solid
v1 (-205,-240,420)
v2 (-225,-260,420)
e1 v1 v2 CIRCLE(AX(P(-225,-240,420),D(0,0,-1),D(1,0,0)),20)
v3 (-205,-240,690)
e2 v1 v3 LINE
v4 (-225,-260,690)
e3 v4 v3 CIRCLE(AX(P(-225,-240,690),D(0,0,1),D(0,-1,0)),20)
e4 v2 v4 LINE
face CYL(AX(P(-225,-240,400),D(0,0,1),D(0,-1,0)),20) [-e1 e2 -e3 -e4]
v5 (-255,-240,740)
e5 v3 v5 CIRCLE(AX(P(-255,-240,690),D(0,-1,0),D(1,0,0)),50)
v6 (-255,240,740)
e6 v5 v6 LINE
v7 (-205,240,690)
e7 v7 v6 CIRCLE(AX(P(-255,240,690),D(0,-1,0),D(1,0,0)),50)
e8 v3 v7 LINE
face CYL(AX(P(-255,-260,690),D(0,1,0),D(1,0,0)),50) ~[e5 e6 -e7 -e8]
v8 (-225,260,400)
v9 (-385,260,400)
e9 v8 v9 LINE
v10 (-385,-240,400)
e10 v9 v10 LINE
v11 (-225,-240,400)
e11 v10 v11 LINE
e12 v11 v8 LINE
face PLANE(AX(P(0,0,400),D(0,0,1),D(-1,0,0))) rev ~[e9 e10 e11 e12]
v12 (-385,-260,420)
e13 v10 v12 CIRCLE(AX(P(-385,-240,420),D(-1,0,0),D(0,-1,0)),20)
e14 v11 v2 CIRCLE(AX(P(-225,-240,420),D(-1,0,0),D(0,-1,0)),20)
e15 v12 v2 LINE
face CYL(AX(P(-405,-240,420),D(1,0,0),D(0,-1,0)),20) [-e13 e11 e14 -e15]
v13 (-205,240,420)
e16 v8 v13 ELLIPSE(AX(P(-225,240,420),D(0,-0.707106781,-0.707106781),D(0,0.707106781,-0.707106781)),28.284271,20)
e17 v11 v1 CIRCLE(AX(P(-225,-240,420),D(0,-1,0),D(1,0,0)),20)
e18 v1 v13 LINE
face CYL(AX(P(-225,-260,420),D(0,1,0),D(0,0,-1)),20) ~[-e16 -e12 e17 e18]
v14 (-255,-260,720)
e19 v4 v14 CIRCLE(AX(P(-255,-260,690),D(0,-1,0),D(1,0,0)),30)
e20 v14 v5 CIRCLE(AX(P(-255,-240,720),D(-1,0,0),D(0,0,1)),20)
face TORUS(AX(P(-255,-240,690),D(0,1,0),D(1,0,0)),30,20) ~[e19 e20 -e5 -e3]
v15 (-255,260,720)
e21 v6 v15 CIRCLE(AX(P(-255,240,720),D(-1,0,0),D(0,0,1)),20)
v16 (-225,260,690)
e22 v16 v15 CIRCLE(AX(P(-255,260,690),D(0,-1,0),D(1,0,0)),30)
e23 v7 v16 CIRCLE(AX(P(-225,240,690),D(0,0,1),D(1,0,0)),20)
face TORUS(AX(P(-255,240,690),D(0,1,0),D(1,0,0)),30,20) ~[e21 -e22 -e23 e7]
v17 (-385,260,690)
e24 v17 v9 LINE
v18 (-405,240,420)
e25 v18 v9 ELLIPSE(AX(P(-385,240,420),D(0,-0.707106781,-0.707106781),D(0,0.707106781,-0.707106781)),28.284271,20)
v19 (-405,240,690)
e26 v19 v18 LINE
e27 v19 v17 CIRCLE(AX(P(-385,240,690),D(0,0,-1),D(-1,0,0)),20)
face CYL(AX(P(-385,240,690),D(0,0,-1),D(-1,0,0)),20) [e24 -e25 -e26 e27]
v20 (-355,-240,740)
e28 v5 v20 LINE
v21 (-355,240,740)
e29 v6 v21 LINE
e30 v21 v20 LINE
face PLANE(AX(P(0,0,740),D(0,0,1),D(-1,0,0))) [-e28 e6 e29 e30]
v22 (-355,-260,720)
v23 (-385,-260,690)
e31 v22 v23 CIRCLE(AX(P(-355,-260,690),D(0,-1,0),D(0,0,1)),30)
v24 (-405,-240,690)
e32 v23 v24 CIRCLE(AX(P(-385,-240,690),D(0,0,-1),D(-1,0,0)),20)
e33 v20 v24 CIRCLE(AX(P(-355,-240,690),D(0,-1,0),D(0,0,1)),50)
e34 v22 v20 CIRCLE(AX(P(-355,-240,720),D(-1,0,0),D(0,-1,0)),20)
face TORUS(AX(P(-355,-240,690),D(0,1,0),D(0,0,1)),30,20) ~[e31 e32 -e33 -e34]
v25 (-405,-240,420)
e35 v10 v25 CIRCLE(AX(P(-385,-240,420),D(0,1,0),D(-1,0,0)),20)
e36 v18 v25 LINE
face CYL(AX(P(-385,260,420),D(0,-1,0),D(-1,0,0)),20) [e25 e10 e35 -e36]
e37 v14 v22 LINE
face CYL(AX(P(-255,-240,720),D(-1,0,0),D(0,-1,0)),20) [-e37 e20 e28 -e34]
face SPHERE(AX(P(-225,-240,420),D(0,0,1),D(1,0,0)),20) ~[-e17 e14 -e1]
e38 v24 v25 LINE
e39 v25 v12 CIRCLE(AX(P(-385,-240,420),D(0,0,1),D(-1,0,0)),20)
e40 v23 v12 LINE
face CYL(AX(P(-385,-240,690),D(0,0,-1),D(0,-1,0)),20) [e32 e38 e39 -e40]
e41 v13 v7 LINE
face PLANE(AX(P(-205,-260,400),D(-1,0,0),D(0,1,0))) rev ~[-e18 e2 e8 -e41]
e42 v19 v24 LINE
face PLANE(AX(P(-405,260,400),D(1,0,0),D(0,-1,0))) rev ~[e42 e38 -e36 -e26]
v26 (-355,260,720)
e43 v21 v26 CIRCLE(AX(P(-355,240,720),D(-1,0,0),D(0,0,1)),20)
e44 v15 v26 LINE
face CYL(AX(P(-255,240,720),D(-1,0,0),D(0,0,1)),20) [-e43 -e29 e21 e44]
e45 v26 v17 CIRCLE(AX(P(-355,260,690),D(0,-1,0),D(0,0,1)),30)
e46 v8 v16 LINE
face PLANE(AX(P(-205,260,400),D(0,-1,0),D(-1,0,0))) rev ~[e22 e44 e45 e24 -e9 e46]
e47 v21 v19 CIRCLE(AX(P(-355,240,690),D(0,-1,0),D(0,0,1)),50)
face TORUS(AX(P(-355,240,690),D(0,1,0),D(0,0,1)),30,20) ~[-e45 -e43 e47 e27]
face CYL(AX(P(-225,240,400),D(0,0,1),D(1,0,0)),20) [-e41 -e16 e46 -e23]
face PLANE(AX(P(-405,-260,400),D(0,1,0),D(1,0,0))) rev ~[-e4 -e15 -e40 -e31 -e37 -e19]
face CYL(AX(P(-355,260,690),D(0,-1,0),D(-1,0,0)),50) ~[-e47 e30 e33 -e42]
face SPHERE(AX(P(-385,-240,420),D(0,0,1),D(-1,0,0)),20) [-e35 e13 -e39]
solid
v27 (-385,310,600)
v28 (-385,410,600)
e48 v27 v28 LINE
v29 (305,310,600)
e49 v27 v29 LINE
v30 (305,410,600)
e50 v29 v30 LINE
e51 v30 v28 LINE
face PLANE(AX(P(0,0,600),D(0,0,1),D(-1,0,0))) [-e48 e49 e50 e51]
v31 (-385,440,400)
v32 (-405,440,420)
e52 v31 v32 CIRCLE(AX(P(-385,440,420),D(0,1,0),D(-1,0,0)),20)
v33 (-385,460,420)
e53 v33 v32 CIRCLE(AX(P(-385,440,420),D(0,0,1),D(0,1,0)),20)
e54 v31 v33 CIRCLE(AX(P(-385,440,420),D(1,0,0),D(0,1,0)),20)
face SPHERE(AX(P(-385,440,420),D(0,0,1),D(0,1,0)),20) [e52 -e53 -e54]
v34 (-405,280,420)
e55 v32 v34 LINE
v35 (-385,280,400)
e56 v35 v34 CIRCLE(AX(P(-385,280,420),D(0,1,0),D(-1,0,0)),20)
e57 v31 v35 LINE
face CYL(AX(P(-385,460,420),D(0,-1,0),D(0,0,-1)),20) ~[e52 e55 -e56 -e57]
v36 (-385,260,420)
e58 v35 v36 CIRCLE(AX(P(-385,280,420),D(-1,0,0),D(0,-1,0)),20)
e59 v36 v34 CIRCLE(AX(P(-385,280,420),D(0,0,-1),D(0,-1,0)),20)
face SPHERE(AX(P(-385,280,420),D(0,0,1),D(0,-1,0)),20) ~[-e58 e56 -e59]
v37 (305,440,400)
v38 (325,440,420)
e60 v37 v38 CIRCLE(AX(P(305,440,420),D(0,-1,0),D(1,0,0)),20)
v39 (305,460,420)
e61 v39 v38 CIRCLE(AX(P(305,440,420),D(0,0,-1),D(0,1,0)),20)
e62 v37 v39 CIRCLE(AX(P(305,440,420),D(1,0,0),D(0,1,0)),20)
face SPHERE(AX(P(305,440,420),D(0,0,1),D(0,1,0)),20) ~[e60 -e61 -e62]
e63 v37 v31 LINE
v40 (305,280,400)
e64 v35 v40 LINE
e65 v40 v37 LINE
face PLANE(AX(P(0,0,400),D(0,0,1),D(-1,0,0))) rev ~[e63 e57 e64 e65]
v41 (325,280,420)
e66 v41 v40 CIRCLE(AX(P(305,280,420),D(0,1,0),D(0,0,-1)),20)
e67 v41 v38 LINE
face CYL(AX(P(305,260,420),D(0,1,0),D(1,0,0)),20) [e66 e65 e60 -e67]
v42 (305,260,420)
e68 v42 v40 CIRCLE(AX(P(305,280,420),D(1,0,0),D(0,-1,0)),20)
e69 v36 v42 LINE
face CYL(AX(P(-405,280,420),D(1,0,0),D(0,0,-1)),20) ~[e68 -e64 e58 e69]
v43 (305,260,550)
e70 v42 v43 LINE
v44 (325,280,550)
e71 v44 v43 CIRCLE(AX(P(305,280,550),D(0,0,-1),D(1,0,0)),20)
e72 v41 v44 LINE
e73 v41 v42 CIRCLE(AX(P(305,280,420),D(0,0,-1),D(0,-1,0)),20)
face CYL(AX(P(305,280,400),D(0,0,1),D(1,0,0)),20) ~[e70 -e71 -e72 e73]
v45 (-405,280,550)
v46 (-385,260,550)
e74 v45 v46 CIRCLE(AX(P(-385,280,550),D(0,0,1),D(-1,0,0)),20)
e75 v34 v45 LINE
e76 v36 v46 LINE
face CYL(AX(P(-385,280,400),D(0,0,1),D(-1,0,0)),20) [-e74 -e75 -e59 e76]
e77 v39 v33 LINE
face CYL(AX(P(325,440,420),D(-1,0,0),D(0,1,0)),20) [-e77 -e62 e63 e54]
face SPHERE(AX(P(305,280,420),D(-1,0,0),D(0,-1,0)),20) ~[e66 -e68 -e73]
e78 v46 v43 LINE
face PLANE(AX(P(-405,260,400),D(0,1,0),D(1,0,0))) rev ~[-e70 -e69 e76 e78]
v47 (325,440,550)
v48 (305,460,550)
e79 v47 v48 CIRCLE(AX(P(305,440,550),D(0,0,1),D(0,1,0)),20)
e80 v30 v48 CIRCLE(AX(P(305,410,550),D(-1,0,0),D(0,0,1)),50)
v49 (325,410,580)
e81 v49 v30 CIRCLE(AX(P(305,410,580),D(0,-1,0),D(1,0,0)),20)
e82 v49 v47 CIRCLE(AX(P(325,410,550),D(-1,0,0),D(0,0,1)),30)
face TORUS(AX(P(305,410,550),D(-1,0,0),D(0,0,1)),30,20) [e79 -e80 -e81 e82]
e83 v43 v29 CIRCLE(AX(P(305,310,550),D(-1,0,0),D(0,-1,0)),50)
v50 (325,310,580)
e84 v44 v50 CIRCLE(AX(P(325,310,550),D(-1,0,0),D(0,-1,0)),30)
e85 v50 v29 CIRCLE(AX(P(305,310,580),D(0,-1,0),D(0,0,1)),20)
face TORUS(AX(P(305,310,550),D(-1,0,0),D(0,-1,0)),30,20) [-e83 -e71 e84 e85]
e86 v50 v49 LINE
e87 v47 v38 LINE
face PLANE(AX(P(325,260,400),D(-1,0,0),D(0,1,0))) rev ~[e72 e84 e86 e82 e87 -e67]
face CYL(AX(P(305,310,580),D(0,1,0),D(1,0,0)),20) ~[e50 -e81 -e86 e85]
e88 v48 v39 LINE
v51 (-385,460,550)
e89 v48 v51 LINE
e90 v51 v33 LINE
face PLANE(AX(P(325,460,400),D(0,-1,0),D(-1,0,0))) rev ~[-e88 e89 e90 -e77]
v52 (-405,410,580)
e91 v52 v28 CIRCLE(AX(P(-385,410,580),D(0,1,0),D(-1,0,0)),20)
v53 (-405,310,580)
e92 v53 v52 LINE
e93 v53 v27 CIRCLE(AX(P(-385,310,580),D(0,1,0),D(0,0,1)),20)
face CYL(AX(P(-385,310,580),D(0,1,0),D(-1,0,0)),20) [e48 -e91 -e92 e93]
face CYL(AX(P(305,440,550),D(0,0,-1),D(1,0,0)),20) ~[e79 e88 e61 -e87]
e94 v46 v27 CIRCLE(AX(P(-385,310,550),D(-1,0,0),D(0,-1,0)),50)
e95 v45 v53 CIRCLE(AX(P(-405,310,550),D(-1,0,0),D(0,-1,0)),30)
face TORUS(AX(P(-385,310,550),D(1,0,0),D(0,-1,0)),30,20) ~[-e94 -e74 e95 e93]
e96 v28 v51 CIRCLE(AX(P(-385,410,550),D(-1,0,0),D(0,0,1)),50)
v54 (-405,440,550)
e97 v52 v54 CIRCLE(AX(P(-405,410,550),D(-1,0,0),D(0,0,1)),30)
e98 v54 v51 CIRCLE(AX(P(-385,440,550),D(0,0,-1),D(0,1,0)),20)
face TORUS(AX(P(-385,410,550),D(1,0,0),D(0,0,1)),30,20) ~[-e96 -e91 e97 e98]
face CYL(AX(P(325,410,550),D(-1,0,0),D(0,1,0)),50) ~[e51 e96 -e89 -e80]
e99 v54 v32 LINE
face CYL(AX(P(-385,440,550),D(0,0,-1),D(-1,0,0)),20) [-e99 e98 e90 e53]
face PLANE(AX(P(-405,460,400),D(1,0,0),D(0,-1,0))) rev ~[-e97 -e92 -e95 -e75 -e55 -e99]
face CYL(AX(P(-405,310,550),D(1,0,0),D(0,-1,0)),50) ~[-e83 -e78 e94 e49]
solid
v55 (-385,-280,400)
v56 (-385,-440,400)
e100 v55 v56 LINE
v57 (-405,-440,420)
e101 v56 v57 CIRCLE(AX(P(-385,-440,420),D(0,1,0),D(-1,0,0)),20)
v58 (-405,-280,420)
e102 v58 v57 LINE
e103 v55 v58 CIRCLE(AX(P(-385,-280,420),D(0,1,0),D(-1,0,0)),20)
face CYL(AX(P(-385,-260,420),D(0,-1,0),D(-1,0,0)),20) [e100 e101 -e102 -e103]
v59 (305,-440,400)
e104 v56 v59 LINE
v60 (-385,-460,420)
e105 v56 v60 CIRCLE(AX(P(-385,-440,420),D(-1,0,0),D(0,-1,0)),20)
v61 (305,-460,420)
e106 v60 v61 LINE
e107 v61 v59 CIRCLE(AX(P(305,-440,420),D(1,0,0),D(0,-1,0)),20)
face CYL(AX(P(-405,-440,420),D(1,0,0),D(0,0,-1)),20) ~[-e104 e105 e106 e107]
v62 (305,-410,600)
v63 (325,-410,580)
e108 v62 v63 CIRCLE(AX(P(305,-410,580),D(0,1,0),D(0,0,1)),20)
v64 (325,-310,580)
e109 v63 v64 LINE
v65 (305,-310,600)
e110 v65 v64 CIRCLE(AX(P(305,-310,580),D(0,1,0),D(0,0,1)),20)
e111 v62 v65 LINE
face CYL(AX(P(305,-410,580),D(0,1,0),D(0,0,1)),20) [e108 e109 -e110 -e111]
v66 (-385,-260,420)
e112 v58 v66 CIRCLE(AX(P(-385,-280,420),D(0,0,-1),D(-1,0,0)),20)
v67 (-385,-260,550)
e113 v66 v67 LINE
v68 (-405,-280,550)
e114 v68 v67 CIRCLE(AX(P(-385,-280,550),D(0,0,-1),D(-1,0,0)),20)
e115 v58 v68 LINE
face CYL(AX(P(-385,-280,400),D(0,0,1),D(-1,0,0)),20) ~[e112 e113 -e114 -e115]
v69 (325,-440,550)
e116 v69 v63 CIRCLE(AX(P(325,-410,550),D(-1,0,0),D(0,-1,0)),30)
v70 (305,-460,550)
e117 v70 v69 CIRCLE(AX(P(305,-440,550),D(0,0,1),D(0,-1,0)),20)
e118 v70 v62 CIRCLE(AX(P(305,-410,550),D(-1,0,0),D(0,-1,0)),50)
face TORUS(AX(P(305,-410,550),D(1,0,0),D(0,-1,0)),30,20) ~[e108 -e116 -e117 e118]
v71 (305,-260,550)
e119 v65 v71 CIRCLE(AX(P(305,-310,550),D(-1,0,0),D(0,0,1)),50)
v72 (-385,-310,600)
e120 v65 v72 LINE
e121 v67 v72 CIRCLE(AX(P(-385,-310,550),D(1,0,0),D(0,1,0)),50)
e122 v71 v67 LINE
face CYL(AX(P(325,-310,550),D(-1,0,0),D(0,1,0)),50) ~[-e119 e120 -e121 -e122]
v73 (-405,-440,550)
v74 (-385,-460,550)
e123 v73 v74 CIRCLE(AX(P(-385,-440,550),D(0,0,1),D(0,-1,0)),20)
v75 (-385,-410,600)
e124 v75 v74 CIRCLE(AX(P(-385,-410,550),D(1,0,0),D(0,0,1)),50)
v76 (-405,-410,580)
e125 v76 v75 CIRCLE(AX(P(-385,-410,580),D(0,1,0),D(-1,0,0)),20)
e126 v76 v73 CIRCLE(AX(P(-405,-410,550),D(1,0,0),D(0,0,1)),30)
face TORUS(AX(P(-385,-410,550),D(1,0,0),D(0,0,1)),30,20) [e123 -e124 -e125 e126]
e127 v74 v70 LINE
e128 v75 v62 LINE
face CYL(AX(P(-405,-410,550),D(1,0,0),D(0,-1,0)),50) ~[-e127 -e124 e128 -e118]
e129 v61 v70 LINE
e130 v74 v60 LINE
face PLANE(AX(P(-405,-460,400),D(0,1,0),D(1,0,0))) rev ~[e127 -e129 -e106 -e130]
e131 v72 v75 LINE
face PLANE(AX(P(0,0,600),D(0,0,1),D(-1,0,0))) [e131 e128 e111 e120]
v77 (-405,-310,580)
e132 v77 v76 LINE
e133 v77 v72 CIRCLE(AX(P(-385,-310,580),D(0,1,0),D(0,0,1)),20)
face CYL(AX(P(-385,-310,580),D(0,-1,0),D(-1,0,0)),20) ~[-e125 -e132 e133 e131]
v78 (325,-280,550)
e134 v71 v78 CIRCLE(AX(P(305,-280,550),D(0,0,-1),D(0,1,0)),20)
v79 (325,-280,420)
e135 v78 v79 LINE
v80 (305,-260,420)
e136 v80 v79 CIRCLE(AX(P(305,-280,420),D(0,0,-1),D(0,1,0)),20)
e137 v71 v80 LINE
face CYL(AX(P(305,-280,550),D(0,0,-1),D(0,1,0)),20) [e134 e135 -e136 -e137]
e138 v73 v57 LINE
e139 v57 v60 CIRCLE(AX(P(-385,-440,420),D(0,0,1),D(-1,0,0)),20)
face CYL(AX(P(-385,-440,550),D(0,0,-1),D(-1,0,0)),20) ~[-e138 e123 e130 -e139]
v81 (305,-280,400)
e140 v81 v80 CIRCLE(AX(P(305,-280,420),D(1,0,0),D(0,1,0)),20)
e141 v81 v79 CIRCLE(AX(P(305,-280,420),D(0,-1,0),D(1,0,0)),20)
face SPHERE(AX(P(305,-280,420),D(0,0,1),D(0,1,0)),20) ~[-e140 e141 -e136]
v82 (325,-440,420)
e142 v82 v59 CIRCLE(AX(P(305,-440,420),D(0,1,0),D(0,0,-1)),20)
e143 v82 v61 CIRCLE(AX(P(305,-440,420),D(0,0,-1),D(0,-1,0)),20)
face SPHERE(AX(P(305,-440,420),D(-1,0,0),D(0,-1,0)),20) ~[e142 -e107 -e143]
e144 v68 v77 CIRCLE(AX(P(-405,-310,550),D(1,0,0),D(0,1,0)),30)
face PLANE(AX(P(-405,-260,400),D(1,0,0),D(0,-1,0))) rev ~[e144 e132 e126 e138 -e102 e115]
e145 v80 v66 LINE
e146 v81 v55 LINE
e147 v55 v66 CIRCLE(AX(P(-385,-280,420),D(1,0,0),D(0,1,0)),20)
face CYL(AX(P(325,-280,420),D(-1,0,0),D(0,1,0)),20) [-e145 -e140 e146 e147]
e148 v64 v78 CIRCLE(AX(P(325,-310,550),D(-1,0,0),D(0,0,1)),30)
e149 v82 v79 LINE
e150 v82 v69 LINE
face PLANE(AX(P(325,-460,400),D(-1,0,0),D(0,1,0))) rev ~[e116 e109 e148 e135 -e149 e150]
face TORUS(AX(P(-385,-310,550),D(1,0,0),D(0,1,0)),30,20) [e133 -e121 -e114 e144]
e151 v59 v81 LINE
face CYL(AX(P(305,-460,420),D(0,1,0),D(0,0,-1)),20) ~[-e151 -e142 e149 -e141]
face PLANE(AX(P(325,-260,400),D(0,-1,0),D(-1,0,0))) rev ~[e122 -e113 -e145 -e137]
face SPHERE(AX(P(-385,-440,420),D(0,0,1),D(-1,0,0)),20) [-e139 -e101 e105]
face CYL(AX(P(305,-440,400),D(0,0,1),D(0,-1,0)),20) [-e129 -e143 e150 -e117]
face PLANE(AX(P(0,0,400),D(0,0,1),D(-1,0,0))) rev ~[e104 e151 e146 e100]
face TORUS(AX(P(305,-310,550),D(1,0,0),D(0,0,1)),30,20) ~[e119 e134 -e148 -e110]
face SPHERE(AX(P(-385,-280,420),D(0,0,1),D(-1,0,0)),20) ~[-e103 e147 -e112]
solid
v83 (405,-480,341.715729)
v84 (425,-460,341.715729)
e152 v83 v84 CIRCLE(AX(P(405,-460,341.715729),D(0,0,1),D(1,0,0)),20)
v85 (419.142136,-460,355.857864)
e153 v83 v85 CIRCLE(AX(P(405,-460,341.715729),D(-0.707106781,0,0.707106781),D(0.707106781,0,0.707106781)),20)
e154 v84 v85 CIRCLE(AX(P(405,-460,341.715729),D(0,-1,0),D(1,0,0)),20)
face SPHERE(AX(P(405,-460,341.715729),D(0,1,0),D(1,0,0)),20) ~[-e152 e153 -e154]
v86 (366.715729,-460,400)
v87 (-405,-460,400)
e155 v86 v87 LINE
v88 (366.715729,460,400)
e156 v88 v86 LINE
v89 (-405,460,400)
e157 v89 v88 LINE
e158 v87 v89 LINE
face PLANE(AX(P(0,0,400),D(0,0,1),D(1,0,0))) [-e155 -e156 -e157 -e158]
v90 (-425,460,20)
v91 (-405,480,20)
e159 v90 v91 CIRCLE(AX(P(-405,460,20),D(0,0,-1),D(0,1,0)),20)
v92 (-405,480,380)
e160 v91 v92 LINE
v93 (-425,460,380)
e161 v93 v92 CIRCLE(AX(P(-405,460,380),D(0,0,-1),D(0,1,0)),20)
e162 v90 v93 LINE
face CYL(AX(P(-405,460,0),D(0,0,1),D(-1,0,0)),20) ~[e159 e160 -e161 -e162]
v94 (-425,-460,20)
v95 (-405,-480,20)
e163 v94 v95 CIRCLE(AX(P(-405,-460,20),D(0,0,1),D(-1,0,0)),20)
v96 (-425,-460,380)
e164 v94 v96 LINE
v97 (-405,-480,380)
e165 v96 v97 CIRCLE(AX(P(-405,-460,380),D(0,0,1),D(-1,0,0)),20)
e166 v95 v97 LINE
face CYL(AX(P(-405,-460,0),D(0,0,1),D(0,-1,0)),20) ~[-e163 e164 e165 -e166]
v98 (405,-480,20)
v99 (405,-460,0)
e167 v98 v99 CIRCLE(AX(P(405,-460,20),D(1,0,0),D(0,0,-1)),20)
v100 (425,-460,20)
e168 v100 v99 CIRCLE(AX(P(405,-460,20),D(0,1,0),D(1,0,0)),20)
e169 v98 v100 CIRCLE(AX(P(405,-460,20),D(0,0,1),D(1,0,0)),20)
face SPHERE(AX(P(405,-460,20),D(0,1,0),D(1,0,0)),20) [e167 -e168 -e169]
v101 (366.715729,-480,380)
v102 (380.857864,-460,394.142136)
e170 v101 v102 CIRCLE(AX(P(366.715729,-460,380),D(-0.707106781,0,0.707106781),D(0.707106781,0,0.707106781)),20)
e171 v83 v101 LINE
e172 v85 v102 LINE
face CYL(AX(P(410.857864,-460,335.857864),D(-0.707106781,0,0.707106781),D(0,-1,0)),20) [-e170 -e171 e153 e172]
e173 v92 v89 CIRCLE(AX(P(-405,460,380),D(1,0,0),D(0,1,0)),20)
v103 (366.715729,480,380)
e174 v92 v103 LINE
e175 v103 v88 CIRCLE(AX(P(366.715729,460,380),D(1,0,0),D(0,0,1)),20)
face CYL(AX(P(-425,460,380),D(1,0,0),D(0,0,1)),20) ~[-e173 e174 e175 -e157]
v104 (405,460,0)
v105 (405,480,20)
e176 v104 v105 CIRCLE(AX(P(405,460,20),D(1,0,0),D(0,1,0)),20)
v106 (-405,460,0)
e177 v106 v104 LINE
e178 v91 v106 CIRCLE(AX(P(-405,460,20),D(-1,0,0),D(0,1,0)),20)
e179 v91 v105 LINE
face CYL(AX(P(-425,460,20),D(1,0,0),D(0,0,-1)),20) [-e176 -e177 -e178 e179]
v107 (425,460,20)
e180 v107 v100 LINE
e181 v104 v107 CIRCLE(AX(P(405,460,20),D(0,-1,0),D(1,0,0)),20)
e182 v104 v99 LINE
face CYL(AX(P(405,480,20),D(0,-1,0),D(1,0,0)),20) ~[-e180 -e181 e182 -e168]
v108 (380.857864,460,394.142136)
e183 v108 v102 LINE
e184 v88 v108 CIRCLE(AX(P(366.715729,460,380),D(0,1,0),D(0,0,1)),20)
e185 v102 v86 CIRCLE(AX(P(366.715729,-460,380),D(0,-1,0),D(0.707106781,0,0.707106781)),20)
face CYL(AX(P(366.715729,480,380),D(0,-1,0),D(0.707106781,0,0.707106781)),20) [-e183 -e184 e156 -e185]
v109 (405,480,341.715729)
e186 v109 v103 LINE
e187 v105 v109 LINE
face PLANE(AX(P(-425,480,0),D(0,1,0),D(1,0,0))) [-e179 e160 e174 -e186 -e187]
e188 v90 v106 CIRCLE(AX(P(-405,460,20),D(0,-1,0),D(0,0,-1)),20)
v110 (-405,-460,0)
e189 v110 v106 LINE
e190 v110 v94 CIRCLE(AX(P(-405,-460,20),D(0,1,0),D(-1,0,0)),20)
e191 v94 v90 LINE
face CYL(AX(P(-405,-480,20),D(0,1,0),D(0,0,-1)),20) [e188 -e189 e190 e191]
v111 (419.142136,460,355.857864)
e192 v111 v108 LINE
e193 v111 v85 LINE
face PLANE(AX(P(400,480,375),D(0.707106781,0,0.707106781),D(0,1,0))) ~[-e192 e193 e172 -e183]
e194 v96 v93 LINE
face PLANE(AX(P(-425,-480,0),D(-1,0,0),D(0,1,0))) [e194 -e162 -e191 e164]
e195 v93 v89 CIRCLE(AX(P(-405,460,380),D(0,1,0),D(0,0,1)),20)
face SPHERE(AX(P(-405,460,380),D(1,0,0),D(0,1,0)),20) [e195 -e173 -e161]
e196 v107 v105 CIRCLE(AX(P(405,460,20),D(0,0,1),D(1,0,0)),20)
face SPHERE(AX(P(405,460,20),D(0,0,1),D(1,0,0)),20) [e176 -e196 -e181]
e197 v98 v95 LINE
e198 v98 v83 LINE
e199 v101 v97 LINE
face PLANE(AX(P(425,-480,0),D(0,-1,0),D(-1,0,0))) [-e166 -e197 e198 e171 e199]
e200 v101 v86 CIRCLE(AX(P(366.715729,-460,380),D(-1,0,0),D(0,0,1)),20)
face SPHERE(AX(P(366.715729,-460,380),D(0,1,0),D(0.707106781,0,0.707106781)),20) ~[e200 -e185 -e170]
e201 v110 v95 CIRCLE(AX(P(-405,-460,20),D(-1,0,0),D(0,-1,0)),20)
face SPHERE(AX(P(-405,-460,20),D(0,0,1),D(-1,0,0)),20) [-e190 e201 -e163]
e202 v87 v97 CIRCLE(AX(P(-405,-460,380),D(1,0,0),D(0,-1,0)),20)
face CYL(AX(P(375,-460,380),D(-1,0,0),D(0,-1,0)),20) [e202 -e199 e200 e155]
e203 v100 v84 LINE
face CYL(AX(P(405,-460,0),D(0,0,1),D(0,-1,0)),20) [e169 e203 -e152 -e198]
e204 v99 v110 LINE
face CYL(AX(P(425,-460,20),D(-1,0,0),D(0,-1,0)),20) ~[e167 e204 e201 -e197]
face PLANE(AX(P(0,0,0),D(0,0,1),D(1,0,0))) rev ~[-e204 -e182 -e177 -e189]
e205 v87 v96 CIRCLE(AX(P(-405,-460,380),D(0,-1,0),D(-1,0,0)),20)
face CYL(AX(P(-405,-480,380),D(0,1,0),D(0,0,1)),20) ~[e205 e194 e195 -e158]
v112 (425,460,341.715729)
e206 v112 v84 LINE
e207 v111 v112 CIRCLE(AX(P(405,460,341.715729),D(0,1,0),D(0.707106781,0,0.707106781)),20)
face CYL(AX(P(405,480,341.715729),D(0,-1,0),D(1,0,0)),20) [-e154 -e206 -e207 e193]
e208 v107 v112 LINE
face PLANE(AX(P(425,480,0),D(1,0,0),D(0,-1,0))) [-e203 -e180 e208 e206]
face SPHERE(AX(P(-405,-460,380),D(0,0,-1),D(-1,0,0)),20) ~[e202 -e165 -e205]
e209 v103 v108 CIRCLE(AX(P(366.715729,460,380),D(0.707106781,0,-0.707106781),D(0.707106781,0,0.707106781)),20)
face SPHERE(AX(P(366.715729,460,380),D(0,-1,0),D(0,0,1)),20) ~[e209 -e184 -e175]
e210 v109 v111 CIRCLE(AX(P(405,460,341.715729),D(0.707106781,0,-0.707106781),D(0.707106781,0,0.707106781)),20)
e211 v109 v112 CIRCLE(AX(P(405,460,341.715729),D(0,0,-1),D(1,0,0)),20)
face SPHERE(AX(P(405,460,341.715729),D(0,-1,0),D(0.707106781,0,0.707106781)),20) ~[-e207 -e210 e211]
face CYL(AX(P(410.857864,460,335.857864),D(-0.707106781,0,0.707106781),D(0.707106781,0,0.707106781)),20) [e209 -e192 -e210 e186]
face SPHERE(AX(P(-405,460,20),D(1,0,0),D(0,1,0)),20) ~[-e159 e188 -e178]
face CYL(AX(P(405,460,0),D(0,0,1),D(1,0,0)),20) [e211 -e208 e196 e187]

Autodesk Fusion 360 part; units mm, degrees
sketch "Sketch1" plane through (0, 0, 0) normal (0, 0, 1) x (1, 0, 0)
  line L0 (425, -480) -> (-425, -480)
  line L1 (-425, -480) -> (-425, 480)
  line L2 (-425, 480) -> (425, 480)
  line L3 (425, 480) -> (425, -480)
  line L4 (425, -480) -> (-425, 480) construction
  line L5 (-425, -480) -> (425, 480) construction
  line L6 (-405, -460) -> (325, -460)
  line L7 (325, -460) -> (325, -260)
  line L8 (325, -260) -> (-405, -260)
  line L9 (-405, -260) -> (-405, -460)
  line L10 (-405, -260) -> (-205, -260)
  line L11 (-205, -260) -> (-205, 260)
  line L12 (-205, 260) -> (-405, 260)
  line L13 (-405, 260) -> (-405, -260)
  line L14 (-405, 260) -> (325, 260)
  line L15 (325, 260) -> (325, 460)
  line L16 (325, 460) -> (-405, 460)
  line L17 (-405, 460) -> (-405, 260)
  dimension "d1" = 960
  dimension "d2" = 850
  dimension "d3" = 20
  dimension "d4" = 20
  dimension "d5" = 20
  dimension "d6" = 200
  dimension "d7" = 200
  dimension "d8" = 100
extrude "Extrude1" add sketch "Sketch1" along normal blind 400 contours L0 L1 L2 L3 | L6 L7 L8 L9 L10 | L8 L10 L11 L12 L13 L14 | L12 L14 L15 L16 L17 makes body 1
sketch "Sketch2" plane through (0, 0, 400) normal (0, 0, 1) x (-1, 0, 0)
  line L0 (-425, -480) -> (425, -480)
  line L1 (425, -480) -> (425, 480)
  line L2 (425, 480) -> (-425, 480)
  line L3 (-425, 480) -> (-425, -480)
  line L4 (405, 460) -> (-325, 460)
  line L5 (-325, 260) -> (405, 260)
  line L6 (405, 260) -> (405, 460)
  line L7 (-325, 460) -> (-325, 260)
  line L8 (405, -460) -> (405, -260)
  line L9 (405, -260) -> (-325, -260)
  line L10 (-325, -460) -> (405, -460)
  line L11 (-325, -260) -> (-325, -460)
extrude "Extrude2" add sketch "Sketch2" along normal blind 200 separate body contours L4 L5 L6 L7 | L8 L9 L10 L11 makes body 2 at (81.6667, -393.3333, 400) makes body 3 at (-161.6667, 393.3333, 400)
sketch "Sketch3" plane through (0, 0, 400) normal (0, 0, 1) x (-1, 0, 0)
  line L0 (-425, -480) -> (425, -480)
  line L1 (425, -480) -> (425, 480)
  line L2 (425, 480) -> (-425, 480)
  line L3 (-425, 480) -> (-425, -480)
  line L4 (205, 260) -> (205, -260)
  line L5 (205, -260) -> (405, -260)
  line L6 (405, 260) -> (205, 260)
  line L7 (405, -260) -> (405, 260)
extrude "Extrude3" add sketch "Sketch3" along normal blind 340 separate body contours L4 L5 L6 L7 makes body 4
chamfer "Chamfer2" distance 50 angle 45 1 edges at (425, 0, 400) on bodies 1
fillet "Fillet2" radius 20 7 faces at (425, 160, 116.6667) (391.6667, 160, 383.3333) (125, 480, 133.3333) (-425, -160, 133.3333) (125, -480, 133.3333) (-141.6667, -160, 0) (-158.3333, 160, 400) on bodies 1
fillet "Fillet3" radius 50 6 edges at (-40, -460, 600) (-40, -260, 600) (-40, 260, 600) (-40, 460, 600) (-205, 0, 740) (-405, 0, 740) on bodies 2 3 4
fillet "Fillet4" radius 20 21 faces at (-405, -326.6667, 450) (-161.6667, -460, 450) (-161.6667, -419.4626, 599.0964) (81.6667, -376.6667, 600) (81.6667, -300.5374, 599.0964) (81.6667, -260, 450) (325, -393.3333, 450) (-161.6667, 260, 450) (-161.6667, 300.5374, 599.0964) (-161.6667, 376.6667, 600) (81.6667, 432.9113, 594.4418) (-161.6667, 460, 500) (325, 326.6667, 450) (-405, 393.3333, 450) (-205, -86.6667, 593.3333) (-218.8133, -86.6667, 724.504) (-288.3333, -86.6667, 740) (-377.9113, 86.6667, 734.4418) (-405, 86.6667, 593.3333) (-271.6667, 260, 496.6667) (-338.3333, -260, 593.3333) on bodies 2 3 4
